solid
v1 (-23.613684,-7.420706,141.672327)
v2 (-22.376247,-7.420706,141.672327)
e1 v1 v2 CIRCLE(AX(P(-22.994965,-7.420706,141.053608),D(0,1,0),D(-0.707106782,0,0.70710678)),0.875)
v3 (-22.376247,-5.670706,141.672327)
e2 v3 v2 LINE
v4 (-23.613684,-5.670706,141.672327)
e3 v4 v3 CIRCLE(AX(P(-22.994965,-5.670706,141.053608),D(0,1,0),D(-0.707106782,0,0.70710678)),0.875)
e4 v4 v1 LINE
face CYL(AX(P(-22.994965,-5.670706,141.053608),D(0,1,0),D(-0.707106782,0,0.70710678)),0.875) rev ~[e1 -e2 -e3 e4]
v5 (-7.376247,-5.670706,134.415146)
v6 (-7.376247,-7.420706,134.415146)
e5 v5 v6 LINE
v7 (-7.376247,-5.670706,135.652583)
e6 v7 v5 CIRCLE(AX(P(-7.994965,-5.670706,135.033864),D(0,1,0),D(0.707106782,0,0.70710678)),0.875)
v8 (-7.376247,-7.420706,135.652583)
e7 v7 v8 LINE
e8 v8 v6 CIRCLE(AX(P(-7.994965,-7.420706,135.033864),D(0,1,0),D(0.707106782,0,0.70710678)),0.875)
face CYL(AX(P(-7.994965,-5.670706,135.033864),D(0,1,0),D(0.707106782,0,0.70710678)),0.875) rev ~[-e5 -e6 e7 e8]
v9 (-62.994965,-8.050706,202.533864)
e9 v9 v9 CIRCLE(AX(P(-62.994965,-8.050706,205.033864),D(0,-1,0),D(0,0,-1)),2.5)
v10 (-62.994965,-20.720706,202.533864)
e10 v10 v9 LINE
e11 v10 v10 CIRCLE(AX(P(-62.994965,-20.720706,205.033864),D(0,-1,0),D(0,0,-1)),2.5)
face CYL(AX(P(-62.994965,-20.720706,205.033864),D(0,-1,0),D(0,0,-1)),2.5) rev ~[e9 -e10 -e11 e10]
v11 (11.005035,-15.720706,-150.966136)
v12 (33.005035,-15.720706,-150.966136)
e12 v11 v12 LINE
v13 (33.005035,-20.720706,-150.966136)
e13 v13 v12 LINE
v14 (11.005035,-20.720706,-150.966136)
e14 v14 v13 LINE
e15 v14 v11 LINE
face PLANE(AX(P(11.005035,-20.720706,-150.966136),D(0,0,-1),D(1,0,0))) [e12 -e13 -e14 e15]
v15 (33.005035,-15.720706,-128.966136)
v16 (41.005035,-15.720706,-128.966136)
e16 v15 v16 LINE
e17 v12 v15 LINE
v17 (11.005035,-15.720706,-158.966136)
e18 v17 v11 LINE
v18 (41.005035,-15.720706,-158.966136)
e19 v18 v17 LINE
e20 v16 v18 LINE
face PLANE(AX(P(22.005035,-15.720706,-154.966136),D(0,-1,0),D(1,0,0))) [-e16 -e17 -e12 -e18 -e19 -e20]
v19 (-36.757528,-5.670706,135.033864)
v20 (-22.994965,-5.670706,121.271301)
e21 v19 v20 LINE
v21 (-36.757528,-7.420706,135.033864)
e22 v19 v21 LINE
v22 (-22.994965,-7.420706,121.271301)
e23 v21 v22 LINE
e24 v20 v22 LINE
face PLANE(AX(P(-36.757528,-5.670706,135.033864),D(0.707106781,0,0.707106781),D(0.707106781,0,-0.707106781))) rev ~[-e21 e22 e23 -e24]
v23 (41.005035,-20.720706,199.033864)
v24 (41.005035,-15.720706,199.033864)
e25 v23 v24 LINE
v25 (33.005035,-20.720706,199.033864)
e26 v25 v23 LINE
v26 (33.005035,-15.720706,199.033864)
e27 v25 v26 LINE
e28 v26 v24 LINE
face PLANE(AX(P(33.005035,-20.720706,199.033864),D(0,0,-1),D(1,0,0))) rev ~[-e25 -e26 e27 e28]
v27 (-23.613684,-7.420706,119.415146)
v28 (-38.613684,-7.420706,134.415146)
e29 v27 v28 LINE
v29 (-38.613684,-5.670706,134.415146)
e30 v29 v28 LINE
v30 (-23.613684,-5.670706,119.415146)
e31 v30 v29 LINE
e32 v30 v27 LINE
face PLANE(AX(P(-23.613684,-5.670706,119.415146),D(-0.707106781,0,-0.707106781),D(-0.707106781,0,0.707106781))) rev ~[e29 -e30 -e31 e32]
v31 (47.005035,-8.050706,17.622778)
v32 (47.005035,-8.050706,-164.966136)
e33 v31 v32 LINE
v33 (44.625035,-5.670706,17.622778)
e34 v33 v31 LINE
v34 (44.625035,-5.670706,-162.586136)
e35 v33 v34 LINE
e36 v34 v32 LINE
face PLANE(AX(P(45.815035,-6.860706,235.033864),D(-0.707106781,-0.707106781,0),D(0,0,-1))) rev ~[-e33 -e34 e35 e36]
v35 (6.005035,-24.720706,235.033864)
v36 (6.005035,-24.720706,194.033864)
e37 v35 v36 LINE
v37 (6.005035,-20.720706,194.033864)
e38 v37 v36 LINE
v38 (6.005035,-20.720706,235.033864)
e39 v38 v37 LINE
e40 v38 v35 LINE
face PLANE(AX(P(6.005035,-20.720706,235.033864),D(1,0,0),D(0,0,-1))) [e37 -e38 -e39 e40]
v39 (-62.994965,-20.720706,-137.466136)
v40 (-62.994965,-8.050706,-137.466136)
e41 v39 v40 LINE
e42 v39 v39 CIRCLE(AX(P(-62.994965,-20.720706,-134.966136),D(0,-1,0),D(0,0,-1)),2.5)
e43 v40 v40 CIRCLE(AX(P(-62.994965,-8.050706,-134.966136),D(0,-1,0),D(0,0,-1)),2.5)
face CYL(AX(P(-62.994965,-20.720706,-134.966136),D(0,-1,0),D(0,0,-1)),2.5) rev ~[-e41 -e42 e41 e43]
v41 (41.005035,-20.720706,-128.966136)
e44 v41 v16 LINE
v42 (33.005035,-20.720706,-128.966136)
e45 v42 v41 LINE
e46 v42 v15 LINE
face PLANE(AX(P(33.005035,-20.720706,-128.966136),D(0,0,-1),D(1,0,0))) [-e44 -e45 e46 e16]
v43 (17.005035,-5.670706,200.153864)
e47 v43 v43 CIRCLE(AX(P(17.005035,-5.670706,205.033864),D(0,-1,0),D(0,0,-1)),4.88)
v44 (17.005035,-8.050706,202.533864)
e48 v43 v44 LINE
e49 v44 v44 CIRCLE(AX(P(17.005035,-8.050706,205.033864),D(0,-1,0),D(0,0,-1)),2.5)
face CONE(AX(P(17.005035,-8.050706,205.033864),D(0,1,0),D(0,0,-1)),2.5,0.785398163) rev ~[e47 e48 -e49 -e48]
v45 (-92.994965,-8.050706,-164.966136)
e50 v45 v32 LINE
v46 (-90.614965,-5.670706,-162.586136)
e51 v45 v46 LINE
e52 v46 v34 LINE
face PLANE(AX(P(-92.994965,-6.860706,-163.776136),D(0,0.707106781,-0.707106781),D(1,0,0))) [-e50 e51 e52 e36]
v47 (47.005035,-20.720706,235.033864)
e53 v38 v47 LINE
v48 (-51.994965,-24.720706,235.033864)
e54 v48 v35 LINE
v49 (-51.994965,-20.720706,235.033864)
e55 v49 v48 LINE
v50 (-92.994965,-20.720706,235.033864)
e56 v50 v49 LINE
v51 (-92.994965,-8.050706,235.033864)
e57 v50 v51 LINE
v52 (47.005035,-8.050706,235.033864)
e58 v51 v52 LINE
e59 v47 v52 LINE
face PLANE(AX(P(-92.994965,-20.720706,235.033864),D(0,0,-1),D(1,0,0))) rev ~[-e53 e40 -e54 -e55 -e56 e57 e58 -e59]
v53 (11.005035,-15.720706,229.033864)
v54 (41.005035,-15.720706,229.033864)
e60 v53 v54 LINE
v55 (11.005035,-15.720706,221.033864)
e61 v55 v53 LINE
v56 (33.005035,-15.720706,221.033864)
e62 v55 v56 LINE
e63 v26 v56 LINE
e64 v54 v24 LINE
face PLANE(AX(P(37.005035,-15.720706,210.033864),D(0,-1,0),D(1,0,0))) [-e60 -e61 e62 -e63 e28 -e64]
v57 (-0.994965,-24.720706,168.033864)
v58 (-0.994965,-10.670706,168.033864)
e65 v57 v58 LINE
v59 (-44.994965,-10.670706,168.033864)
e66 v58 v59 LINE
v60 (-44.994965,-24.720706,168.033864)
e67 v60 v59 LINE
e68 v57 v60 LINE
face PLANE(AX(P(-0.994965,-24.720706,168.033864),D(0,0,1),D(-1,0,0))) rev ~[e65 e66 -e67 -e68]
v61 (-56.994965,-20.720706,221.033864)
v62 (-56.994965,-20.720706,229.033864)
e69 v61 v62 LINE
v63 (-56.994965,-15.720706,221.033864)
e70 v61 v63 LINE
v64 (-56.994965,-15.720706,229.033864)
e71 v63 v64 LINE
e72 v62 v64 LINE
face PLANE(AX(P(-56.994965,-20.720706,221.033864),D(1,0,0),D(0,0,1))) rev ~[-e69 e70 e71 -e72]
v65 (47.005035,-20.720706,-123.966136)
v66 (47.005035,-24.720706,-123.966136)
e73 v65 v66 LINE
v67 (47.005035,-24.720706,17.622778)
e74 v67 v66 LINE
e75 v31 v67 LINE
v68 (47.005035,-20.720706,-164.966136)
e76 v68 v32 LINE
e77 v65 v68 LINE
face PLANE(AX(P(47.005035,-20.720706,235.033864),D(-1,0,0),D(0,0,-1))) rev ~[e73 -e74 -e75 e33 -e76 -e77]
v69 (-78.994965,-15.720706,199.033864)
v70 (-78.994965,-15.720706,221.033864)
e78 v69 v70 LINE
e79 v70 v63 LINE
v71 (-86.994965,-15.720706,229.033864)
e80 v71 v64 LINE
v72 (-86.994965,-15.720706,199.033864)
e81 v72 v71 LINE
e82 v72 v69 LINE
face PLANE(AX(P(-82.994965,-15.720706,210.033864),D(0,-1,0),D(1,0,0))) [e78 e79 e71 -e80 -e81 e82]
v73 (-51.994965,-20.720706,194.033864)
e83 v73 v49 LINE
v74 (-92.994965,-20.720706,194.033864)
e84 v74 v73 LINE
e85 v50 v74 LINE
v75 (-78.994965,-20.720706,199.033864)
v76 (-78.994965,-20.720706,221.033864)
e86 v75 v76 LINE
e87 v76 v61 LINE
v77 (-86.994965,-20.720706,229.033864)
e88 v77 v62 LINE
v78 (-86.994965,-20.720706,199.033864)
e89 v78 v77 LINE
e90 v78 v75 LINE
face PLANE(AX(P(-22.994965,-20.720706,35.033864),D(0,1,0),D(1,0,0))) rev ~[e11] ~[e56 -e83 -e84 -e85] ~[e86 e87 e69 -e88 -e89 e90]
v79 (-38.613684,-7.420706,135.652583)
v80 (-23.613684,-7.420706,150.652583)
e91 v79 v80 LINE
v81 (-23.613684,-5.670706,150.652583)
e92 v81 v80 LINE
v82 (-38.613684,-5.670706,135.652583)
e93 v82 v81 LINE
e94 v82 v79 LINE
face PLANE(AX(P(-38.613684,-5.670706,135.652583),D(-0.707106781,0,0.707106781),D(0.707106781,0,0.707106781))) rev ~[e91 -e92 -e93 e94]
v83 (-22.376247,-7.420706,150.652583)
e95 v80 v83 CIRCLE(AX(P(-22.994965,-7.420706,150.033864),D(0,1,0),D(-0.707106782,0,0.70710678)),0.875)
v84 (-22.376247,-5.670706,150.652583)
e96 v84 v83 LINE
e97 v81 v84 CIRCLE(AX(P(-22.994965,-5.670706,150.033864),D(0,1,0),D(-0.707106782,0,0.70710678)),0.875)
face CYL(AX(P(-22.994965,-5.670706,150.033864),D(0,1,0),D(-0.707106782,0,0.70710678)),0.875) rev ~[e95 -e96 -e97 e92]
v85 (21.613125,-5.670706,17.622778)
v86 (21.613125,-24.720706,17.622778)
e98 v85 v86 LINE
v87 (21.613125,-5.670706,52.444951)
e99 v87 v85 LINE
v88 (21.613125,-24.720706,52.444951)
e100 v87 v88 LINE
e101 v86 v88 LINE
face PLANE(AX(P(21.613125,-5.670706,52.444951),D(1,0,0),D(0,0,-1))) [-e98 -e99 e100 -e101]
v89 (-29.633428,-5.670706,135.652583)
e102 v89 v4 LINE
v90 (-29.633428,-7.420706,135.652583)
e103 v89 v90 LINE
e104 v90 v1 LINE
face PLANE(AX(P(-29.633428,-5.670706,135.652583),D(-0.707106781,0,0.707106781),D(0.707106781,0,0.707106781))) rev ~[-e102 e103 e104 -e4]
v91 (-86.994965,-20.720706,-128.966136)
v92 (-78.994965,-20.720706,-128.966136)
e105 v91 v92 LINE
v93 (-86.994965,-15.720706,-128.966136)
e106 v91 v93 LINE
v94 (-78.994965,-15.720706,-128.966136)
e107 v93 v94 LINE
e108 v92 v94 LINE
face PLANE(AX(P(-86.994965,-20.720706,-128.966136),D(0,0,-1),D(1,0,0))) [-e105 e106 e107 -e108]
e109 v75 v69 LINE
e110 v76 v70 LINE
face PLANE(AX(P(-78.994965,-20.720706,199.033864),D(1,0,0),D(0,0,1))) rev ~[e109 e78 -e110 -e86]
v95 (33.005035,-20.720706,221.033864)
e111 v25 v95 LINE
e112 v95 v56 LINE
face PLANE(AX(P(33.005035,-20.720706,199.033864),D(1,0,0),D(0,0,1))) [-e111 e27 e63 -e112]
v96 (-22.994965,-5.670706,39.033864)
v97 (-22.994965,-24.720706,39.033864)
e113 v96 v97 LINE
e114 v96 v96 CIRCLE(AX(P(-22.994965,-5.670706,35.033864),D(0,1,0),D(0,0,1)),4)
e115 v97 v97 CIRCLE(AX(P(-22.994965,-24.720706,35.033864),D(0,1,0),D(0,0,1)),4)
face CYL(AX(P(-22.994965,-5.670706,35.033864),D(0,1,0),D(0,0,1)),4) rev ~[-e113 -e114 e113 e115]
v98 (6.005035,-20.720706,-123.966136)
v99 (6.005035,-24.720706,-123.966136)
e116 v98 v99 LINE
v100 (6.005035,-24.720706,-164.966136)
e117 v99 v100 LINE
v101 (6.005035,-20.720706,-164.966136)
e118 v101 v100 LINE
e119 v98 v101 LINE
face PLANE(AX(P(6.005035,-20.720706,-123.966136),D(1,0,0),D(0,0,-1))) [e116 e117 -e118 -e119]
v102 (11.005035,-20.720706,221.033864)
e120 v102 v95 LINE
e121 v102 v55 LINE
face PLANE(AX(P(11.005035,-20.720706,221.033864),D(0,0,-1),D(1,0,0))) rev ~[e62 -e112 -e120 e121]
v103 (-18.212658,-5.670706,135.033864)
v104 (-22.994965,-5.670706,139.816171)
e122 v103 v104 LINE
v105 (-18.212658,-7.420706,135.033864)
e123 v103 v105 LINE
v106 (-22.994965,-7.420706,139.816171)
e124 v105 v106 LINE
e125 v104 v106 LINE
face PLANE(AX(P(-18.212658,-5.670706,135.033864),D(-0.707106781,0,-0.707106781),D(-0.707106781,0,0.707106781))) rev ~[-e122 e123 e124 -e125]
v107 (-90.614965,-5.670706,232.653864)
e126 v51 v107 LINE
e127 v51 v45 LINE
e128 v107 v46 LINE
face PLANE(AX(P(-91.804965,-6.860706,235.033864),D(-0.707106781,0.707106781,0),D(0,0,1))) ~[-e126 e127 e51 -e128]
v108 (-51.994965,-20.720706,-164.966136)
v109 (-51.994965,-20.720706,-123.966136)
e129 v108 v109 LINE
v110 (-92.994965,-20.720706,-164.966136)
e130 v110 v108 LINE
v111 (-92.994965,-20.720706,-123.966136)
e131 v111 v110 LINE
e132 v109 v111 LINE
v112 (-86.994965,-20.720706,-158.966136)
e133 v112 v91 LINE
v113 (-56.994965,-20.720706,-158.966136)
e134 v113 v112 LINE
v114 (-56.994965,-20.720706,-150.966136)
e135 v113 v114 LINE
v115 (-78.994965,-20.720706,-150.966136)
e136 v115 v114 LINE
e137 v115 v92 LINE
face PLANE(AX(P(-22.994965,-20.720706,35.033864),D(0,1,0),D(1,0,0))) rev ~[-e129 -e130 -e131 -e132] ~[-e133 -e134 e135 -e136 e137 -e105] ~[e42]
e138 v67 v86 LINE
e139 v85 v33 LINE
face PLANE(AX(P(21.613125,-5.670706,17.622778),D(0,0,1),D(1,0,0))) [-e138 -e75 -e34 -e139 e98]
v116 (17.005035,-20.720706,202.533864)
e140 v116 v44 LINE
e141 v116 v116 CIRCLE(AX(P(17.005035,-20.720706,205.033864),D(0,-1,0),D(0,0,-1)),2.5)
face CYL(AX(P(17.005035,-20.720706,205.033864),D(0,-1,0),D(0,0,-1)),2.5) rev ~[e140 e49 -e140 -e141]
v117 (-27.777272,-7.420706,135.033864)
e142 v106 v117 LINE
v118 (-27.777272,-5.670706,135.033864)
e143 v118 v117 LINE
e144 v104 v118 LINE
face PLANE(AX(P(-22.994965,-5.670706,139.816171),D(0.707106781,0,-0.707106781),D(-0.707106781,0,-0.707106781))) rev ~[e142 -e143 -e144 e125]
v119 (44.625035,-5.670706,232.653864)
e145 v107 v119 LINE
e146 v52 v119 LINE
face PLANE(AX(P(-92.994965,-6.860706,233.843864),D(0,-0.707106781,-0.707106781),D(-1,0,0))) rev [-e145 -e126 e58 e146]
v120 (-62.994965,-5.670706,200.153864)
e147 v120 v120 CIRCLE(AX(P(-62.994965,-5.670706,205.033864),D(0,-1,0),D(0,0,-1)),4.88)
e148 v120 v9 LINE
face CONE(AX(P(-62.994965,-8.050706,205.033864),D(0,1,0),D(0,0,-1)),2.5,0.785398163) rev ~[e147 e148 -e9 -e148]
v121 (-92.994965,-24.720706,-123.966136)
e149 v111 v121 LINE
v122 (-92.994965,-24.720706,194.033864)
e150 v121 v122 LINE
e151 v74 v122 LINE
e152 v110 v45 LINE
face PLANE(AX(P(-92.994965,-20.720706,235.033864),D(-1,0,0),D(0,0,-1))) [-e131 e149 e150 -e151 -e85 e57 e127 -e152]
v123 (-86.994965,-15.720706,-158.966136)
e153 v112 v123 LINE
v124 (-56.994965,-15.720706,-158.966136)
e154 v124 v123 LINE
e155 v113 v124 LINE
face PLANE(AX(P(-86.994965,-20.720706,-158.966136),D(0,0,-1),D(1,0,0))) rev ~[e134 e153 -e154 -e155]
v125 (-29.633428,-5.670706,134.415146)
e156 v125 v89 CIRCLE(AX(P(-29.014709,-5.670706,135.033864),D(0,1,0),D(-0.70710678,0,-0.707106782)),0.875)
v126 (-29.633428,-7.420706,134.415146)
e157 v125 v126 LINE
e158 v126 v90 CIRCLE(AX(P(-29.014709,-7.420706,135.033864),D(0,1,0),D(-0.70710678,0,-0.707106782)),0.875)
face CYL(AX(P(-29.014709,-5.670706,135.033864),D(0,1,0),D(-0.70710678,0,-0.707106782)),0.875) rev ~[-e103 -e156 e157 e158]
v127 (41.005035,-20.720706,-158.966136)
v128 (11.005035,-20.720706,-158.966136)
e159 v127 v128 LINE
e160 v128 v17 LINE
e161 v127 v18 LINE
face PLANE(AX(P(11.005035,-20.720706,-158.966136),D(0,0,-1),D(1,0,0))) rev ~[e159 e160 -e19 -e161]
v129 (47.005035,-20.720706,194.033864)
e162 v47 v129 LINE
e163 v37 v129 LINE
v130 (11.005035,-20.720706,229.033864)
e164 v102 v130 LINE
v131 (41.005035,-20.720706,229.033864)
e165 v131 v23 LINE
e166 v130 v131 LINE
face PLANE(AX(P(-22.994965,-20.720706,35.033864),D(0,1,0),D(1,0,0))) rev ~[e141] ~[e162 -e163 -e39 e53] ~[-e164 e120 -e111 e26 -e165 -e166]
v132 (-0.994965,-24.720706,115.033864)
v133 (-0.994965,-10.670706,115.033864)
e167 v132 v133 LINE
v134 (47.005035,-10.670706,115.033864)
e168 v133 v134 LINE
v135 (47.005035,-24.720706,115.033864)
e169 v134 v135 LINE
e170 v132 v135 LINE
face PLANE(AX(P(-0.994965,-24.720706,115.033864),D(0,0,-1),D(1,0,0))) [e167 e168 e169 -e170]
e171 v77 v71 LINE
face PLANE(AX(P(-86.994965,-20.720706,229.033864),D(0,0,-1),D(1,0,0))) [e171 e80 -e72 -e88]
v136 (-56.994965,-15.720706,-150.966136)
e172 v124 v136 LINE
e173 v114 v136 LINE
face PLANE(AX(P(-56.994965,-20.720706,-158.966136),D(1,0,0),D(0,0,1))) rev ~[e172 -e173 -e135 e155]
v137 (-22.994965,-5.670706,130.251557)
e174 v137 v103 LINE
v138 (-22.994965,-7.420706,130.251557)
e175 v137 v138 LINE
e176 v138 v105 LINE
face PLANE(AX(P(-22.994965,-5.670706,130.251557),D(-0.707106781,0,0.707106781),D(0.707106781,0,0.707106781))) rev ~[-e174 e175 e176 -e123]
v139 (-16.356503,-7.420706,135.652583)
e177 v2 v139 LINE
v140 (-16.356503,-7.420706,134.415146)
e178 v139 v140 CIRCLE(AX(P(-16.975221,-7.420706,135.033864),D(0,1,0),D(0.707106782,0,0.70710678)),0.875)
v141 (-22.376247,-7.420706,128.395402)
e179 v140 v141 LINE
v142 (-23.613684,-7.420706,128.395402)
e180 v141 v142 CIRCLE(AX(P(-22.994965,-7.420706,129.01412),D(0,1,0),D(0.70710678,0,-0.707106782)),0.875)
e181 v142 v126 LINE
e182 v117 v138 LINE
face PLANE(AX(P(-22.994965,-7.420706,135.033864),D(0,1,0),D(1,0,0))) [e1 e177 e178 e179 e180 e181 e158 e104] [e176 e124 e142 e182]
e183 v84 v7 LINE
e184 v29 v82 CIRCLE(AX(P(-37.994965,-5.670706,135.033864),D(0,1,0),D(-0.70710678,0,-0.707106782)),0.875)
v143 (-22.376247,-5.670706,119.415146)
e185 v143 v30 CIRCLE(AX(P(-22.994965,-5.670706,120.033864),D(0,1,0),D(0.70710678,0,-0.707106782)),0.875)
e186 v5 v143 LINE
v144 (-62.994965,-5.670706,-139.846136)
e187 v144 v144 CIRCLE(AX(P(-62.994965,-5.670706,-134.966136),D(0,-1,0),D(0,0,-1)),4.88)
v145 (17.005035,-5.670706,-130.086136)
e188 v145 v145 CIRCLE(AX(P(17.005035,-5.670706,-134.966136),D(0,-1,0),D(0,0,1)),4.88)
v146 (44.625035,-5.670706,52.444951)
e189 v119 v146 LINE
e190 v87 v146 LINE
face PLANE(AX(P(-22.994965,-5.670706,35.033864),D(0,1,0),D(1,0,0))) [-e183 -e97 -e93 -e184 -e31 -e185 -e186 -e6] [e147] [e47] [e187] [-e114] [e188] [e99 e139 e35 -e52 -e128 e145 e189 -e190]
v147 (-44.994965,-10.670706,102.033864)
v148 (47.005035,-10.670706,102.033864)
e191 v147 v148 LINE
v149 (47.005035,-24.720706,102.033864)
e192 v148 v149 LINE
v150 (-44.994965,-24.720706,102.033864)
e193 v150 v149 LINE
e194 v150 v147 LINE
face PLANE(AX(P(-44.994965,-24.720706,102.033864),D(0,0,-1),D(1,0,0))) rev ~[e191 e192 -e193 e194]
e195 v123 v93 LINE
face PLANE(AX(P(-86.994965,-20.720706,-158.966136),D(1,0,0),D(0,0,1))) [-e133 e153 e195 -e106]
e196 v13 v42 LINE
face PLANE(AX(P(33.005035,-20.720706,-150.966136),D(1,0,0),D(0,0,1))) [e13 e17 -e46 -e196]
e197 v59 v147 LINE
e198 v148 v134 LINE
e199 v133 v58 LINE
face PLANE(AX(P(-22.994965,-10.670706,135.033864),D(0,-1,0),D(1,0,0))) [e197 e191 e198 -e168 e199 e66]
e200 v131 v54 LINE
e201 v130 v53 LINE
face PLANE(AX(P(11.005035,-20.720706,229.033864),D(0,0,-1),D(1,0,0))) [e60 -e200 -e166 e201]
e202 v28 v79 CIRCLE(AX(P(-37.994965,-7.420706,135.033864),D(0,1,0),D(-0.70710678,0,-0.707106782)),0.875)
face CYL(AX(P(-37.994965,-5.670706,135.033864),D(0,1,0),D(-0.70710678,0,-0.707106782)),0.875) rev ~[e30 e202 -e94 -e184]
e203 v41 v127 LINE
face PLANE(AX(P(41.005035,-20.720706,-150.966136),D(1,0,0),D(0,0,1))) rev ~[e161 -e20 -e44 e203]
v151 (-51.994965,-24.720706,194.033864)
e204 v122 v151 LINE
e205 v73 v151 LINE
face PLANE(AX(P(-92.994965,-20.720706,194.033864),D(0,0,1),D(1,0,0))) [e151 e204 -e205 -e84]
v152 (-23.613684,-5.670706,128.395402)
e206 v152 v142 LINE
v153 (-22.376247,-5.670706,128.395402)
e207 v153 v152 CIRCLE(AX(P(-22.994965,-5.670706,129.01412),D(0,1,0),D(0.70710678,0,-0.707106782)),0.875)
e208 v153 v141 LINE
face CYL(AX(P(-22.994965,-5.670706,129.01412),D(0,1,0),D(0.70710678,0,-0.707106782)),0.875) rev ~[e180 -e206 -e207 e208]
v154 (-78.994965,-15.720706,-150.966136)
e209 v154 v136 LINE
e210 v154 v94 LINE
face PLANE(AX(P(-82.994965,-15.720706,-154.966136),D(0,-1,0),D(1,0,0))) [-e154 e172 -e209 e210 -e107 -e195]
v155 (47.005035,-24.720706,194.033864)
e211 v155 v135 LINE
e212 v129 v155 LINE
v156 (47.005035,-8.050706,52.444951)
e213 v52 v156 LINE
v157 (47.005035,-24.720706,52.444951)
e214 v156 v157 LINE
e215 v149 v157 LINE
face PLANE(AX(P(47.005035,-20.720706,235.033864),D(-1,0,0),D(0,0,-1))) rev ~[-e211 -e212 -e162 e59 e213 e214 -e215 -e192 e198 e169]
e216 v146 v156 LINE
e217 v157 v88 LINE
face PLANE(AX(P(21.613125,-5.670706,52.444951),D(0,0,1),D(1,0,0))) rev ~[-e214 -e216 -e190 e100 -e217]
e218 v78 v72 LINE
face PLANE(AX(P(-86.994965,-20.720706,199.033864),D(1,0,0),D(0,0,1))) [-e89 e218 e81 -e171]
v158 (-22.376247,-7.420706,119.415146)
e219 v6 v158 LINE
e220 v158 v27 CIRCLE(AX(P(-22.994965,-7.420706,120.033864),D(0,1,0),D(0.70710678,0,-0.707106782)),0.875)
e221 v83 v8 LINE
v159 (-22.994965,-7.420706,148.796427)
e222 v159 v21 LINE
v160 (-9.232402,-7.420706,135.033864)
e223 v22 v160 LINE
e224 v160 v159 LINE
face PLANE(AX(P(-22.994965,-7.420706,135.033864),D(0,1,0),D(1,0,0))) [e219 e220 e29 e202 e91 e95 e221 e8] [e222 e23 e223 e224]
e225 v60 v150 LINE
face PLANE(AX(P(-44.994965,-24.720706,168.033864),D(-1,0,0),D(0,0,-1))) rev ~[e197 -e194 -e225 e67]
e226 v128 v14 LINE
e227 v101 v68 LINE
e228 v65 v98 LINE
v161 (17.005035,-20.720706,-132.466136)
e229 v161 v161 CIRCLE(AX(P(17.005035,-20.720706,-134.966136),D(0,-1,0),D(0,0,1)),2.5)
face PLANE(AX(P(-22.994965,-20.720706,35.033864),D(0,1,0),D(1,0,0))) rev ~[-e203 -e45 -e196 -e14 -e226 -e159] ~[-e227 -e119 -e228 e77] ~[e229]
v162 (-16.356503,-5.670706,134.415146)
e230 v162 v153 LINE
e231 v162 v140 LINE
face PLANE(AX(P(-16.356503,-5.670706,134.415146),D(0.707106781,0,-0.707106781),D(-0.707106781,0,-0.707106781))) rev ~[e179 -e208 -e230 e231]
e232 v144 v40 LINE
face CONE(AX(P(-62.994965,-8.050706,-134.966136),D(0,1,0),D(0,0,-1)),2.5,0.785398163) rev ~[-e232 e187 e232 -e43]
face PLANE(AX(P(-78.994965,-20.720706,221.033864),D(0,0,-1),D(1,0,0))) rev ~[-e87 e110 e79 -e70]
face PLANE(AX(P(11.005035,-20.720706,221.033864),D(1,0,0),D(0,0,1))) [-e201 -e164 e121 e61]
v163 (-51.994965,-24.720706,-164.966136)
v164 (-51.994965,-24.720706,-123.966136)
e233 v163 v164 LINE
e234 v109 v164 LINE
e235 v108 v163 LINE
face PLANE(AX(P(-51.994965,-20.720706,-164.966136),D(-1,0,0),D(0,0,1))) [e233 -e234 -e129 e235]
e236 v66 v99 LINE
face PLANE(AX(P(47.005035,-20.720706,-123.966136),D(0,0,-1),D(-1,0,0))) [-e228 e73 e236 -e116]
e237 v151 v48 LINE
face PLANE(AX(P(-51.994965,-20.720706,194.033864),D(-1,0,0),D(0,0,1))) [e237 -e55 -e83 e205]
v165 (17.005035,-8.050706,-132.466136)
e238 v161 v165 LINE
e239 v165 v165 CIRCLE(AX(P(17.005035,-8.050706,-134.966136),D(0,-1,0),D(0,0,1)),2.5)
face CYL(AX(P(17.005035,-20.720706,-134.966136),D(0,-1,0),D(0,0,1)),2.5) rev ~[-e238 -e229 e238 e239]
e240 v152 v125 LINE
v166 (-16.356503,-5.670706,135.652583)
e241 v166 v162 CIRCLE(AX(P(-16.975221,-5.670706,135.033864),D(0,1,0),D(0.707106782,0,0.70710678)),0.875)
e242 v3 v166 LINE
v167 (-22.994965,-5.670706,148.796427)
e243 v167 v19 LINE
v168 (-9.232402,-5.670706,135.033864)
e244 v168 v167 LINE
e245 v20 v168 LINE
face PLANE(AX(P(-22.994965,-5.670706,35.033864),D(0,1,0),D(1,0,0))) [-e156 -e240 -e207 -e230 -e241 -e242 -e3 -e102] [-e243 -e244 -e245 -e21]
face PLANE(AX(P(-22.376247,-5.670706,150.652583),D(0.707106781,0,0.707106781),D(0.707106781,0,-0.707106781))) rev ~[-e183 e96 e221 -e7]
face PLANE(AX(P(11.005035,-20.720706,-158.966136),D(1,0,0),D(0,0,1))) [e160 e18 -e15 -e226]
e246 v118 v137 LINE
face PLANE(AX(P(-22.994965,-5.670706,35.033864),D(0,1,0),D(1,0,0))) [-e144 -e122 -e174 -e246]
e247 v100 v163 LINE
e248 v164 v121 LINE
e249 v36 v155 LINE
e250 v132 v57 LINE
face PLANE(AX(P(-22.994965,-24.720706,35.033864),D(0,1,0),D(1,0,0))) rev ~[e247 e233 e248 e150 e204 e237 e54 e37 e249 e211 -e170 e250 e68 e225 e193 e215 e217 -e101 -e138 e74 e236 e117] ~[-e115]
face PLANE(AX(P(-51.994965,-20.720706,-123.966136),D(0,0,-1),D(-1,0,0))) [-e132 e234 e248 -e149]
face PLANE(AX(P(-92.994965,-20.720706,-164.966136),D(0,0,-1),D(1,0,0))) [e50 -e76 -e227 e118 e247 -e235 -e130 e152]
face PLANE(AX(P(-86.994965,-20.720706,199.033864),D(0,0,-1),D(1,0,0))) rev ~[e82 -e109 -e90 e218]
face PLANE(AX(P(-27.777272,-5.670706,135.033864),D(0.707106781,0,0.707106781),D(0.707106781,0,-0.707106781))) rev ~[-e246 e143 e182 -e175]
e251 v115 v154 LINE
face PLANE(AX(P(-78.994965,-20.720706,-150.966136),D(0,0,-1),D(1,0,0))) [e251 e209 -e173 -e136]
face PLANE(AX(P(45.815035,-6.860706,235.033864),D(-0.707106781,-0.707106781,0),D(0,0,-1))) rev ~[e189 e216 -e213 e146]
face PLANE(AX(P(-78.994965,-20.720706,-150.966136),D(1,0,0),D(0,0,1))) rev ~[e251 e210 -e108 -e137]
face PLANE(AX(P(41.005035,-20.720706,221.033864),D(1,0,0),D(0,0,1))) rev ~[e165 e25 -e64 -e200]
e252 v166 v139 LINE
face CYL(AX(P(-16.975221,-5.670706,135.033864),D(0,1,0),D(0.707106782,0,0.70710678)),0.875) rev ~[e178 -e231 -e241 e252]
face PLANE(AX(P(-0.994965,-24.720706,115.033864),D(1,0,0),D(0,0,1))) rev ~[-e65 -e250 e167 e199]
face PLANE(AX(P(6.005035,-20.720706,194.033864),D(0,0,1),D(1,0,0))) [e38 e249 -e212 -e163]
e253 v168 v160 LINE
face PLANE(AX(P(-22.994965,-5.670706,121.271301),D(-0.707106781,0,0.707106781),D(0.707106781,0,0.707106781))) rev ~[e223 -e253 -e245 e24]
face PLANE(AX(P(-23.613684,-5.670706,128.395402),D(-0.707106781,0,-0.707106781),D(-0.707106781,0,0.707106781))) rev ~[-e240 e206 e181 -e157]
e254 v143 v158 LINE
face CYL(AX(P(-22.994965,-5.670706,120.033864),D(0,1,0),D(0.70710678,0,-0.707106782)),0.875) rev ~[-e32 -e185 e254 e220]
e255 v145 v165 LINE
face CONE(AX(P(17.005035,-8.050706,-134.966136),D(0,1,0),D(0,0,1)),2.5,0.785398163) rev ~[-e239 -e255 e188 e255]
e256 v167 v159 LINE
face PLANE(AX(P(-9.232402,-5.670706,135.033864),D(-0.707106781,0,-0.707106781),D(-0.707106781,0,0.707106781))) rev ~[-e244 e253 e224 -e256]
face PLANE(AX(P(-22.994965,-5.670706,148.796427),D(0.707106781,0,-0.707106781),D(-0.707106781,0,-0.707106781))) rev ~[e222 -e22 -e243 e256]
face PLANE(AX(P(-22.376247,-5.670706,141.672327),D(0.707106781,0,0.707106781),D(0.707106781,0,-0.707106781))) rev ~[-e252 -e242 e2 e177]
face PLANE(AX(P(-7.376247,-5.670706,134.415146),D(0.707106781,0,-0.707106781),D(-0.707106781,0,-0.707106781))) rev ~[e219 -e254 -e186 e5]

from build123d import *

# Parameters (mm, degrees)
BOSS_EXTRUDE1_DEPTH = 4
SKETCH2_W           = 140
SKETCH2_H           = 400
BOSS_EXTRUDE2_DEPTH = 15.05
SKETCH3_W           = 8
SKETCH3_H           = 22
SKETCH3_H_2         = 8
SKETCH3_W_2         = 22
SKETCH3_R           = 2.5
CUT_EXTRUDE1_DEPTH  = 5
CUT_EXTRUDE2_REACH  = 255.21
SKETCH4_R           = 2.5
CHAMFER1_SIZE       = 2.38
CUT_EXTRUDE3_REACH  = 255.48
SKETCH5_R           = 4
CUT_EXTRUDE4_DEPTH  = 1.75
SKETCH7_W           = 50
SKETCH7_H           = 13
CUT_EXTRUDE5_DEPTH  = 14.05
CUT_EXTRUDE6_REACH  = 255.48
SKETCH8_W           = 25.391909776
SKETCH8_H           = 34.82217309


with BuildPart() as part:
    # Sketch1 → Boss-Extrude1 (new body)
    with BuildSketch(Plane(origin=(0, -20.720705818, 0), x_dir=(1, 0, 0), z_dir=(0, 1, 0))):
        Polygon((6.005034784, -235.03386434), (6.005034784, -194.03386434), (47.005034784, -194.03386434), (47.005034784, 123.96613566), (6.005034784, 123.96613566), (6.005034784, 164.96613566), (-51.994965216, 164.96613566), (-51.994965216, 123.96613566), (-92.994965216, 123.96613566), (-92.994965216, -194.03386434), (-51.994965216, -194.03386434), (-51.994965216, -235.03386434), align=None)
    extrude(amount=-BOSS_EXTRUDE1_DEPTH)

    # Sketch2 → Boss-Extrude2 (add)
    with BuildSketch(Plane(origin=(0, -20.720705818, 0), x_dir=(1, 0, 0), z_dir=(0, 1, 0))):
        with Locations((-22.994965216, -35.03386434)):
            Rectangle(SKETCH2_W, SKETCH2_H)
    extrude(amount=BOSS_EXTRUDE2_DEPTH)

    # Sketch3 → Cut-Extrude1 (cut)
    # profile 1 of 14: a face of its own
    with BuildSketch(Plane.XZ.offset(20.720705818)):
        with Locations((37.005034784, 210.03386434)):
            Rectangle(SKETCH3_W, SKETCH3_H)
    # profile 2 of 14: a face of its own
    with BuildSketch(Plane.XZ.offset(20.720705818)):
        with Locations((37.005034784, 225.03386434)):
            Rectangle(SKETCH3_W, SKETCH3_H_2)
    # profile 3 of 14: a face of its own
    with BuildSketch(Plane.XZ.offset(20.720705818)):
        with Locations((22.005034784, 225.03386434)):
            Rectangle(SKETCH3_W_2, SKETCH3_H_2)
    # profile 4 of 14: a face of its own
    with BuildSketch(Plane.XZ.offset(20.720705818)):
        with Locations((-67.994965216, 225.03386434)):
            Rectangle(SKETCH3_W_2, SKETCH3_H_2)
    # profile 5 of 14: a face of its own
    with BuildSketch(Plane.XZ.offset(20.720705818)):
        with Locations((-82.994965216, 210.03386434)):
            Rectangle(SKETCH3_W, SKETCH3_H)
    # profile 6 of 14: a face of its own
    with BuildSketch(Plane.XZ.offset(20.720705818)):
        with Locations((-82.994965216, 225.03386434)):
            Rectangle(SKETCH3_W, SKETCH3_H_2)
        with Locations((-82.994965216, 225.03386434)):
            Circle(SKETCH3_R, mode=Mode.SUBTRACT)
    # profile 7 of 14: a face of its own
    with BuildSketch(Plane.XZ.offset(20.720705818)):
        with Locations((-82.994965216, 225.03386434)):
            Circle(SKETCH3_R)
    # profile 8 of 14: a face of its own
    with BuildSketch(Plane.XZ.offset(20.720705818)):
        with Locations((-67.994965216, -154.96613566)):
            Rectangle(SKETCH3_W_2, SKETCH3_H_2)
    # profile 9 of 14: a face of its own
    with BuildSketch(Plane.XZ.offset(20.720705818)):
        with Locations((-82.994965216, -139.96613566)):
            Rectangle(SKETCH3_W, SKETCH3_H)
    # profile 10 of 14: a face of its own
    with BuildSketch(Plane.XZ.offset(20.720705818)):
        with Locations((-82.994965216, -154.96613566)):
            Rectangle(SKETCH3_W, SKETCH3_H_2)
        with Locations((-82.994965216, -154.96613566)):
            Circle(SKETCH3_R, mode=Mode.SUBTRACT)
    # profile 11 of 14: a face of its own
    with BuildSketch(Plane.XZ.offset(20.720705818)):
        with Locations((-82.994965216, -154.96613566)):
            Circle(SKETCH3_R)
    # profile 12 of 14: a face of its own
    with BuildSketch(Plane.XZ.offset(20.720705818)):
        with Locations((37.005034784, -154.96613566)):
            Rectangle(SKETCH3_W, SKETCH3_H_2)
    # profile 13 of 14: a face of its own
    with BuildSketch(Plane.XZ.offset(20.720705818)):
        with Locations((22.005034784, -154.96613566)):
            Rectangle(SKETCH3_W_2, SKETCH3_H_2)
    # profile 14 of 14: a face of its own
    with BuildSketch(Plane.XZ.offset(20.720705818)):
        with Locations((37.005034784, -139.96613566)):
            Rectangle(SKETCH3_W, SKETCH3_H)
    extrude(amount=-CUT_EXTRUDE1_DEPTH, mode=Mode.SUBTRACT)

    # Sketch4 → Cut-Extrude2 (cut, up to next)
    with BuildSketch(Plane.XZ.offset(20.720705818), mode=Mode.PRIVATE) as cut_extrude2_sk1:
        with Locations(Location((-62.994965216, -134.96613566, 0), (0, 0, 270))):
            Circle(SKETCH4_R)
    cut_extrude2_tool1 = extrude(cut_extrude2_sk1.sketch, amount=-CUT_EXTRUDE2_REACH, mode=Mode.PRIVATE) & part.part
    # Sketch4 → Cut-Extrude2 (cut, up to next)
    with BuildSketch(Plane.XZ.offset(20.720705818), mode=Mode.PRIVATE) as cut_extrude2_sk2:
        with Locations(Location((17.005034784, -134.96613566, 0), (0, 0, 90))):
            Circle(SKETCH4_R)
    cut_extrude2_tool2 = extrude(cut_extrude2_sk2.sketch, amount=-CUT_EXTRUDE2_REACH, mode=Mode.PRIVATE) & part.part
    # Sketch4 → Cut-Extrude2 (cut, up to next)
    with BuildSketch(Plane.XZ.offset(20.720705818), mode=Mode.PRIVATE) as cut_extrude2_sk3:
        with Locations(Location((-62.994965216, 205.03386434, 0), (0, 0, 270))):
            Circle(SKETCH4_R)
    cut_extrude2_tool3 = extrude(cut_extrude2_sk3.sketch, amount=-CUT_EXTRUDE2_REACH, mode=Mode.PRIVATE) & part.part
    # Sketch4 → Cut-Extrude2 (cut, up to next)
    with BuildSketch(Plane.XZ.offset(20.720705818), mode=Mode.PRIVATE) as cut_extrude2_sk4:
        with Locations(Location((17.005034784, 205.03386434, 0), (0, 0, 270))):
            Circle(SKETCH4_R)
    cut_extrude2_tool4 = extrude(cut_extrude2_sk4.sketch, amount=-CUT_EXTRUDE2_REACH, mode=Mode.PRIVATE) & part.part
    add(cut_extrude2_tool1.solids().sort_by_distance((-62.994965, -20.720706, -134.966136))[0], mode=Mode.SUBTRACT)
    add(cut_extrude2_tool2.solids().sort_by_distance((17.005035, -20.720706, -134.966136))[0], mode=Mode.SUBTRACT)
    add(cut_extrude2_tool3.solids().sort_by_distance((-62.994965, -20.720706, 205.033864))[0], mode=Mode.SUBTRACT)
    add(cut_extrude2_tool4.solids().sort_by_distance((17.005035, -20.720706, 205.033864))[0], mode=Mode.SUBTRACT)

    # Chamfer1
    chamfer1_edges = [part.edges().sort_by_distance(p)[0] for p in [
        (17.005034784, -5.670705818, -137.46613566),
        (-62.994965216, -5.670705818, 207.53386434),
        (17.005034784, -5.670705818, 207.53386434),
        (-62.994965216, -5.670705818, -132.46613566),
        (-92.994965216, -5.670705818, 35.03386434),
        (-22.994965216, -5.670705818, 235.03386434),
        (47.005034784, -5.670705818, 35.03386434),
        (-22.994965216, -5.670705818, -164.96613566),
    ]]
    chamfer(chamfer1_edges, length=CHAMFER1_SIZE)

    # Sketch5 → Cut-Extrude3 (cut, up to next)
    with BuildSketch(Plane(origin=(0, -5.670705818, 0), x_dir=(1, 0, 0), z_dir=(0, 1, 0)), mode=Mode.PRIVATE) as cut_extrude3_sk1:
        with Locations(Location((-22.994965216, -35.03386434, 0), (0, 0, 270))):
            Circle(SKETCH5_R)
    cut_extrude3_tool1 = extrude(cut_extrude3_sk1.sketch, amount=-CUT_EXTRUDE3_REACH, mode=Mode.PRIVATE) & part.part
    add(cut_extrude3_tool1.solids().sort_by_distance((-22.994965, -5.670706, 35.033864))[0], mode=Mode.SUBTRACT)

    # Sketch6 → Cut-Extrude4 (cut)
    # profile 1 of 2: a face of its own
    with BuildSketch(Plane(origin=(0, -5.670705818, 0), x_dir=(1, 0, 0), z_dir=(0, 1, 0))):
        with BuildLine():
            Line((-38.613683649, -135.652582773), (-23.613683649, -150.652582773))
            ThreePointArc((-23.613683649, -150.652582773), (-22.994965216, -150.90886434), (-22.376246782, -150.652582773))
            Line((-22.376246782, -150.652582773), (-7.376246782, -135.652582773))
            ThreePointArc((-7.376246782, -135.652582773), (-7.119965216, -135.03386434), (-7.376246782, -134.415145906))
            Line((-7.376246782, -134.415145906), (-22.376246782, -119.415145906))
            ThreePointArc((-22.376246782, -119.415145906), (-22.994965216, -119.15886434), (-23.613683649, -119.415145906))
            Line((-23.613683649, -119.415145906), (-38.613683649, -134.415145906))
            ThreePointArc((-38.613683649, -134.415145906), (-38.869965216, -135.03386434), (-38.613683649, -135.652582773))
        make_face()
        Polygon((-9.232402083, -135.03386434), (-22.994965216, -148.796427473), (-36.757528349, -135.03386434), (-22.994965216, -121.271301207), align=None, mode=Mode.SUBTRACT)
    # profile 2 of 2: a face of its own
    with BuildSketch(Plane(origin=(0, -5.670705818, 0), x_dir=(1, 0, 0), z_dir=(0, 1, 0))):
        with BuildLine():
            Line((-22.376246782, -141.672326652), (-16.356502903, -135.652582773))
            ThreePointArc((-16.356502903, -135.652582773), (-16.100221337, -135.03386434), (-16.356502903, -134.415145906))
            Line((-16.356502903, -134.415145906), (-22.376246782, -128.395402027))
            ThreePointArc((-22.376246782, -128.395402027), (-22.994965216, -128.139120461), (-23.613683649, -128.395402027))
            Line((-23.613683649, -128.395402027), (-29.633427528, -134.415145906))
            ThreePointArc((-29.633427528, -134.415145906), (-29.889709095, -135.03386434), (-29.633427528, -135.652582773))
            Line((-29.633427528, -135.652582773), (-23.613683649, -141.672326652))
            ThreePointArc((-23.613683649, -141.672326652), (-22.994965216, -141.928608219), (-22.376246782, -141.672326652))
        make_face()
        Polygon((-22.994965216, -130.251557328), (-18.212658204, -135.03386434), (-22.994965216, -139.816171352), (-27.777272227, -135.03386434), align=None, mode=Mode.SUBTRACT)
    extrude(amount=-CUT_EXTRUDE4_DEPTH, mode=Mode.SUBTRACT)

    # Sketch7 → Cut-Extrude5 (cut)
    with BuildSketch(Plane.XZ.offset(24.720705818)):
        Polygon((-0.994965216, 115.03386434), (-0.994965216, 168.03386434), (-44.994965216, 168.03386434), (-44.994965216, 102.03386434), (-0.994965216, 102.03386434), align=None)
        with Locations((24.005034784, 108.53386434)):
            Rectangle(SKETCH7_W, SKETCH7_H)
    extrude(amount=-CUT_EXTRUDE5_DEPTH, mode=Mode.SUBTRACT)

    # Sketch8 → Cut-Extrude6 (cut, up to next)
    with BuildSketch(Plane(origin=(0, -5.670705818, 0), x_dir=(1, 0, 0), z_dir=(0, 1, 0)), mode=Mode.PRIVATE) as cut_extrude6_sk1:
        with Locations((34.309079896, -35.03386434)):
            Rectangle(SKETCH8_W, SKETCH8_H)
    cut_extrude6_tool1 = extrude(cut_extrude6_sk1.sketch, amount=-CUT_EXTRUDE6_REACH, mode=Mode.PRIVATE) & part.part
    add(cut_extrude6_tool1.solids().sort_by_distance((34.30908, -5.670706, 35.033864))[0], mode=Mode.SUBTRACT)


solid = part.part
